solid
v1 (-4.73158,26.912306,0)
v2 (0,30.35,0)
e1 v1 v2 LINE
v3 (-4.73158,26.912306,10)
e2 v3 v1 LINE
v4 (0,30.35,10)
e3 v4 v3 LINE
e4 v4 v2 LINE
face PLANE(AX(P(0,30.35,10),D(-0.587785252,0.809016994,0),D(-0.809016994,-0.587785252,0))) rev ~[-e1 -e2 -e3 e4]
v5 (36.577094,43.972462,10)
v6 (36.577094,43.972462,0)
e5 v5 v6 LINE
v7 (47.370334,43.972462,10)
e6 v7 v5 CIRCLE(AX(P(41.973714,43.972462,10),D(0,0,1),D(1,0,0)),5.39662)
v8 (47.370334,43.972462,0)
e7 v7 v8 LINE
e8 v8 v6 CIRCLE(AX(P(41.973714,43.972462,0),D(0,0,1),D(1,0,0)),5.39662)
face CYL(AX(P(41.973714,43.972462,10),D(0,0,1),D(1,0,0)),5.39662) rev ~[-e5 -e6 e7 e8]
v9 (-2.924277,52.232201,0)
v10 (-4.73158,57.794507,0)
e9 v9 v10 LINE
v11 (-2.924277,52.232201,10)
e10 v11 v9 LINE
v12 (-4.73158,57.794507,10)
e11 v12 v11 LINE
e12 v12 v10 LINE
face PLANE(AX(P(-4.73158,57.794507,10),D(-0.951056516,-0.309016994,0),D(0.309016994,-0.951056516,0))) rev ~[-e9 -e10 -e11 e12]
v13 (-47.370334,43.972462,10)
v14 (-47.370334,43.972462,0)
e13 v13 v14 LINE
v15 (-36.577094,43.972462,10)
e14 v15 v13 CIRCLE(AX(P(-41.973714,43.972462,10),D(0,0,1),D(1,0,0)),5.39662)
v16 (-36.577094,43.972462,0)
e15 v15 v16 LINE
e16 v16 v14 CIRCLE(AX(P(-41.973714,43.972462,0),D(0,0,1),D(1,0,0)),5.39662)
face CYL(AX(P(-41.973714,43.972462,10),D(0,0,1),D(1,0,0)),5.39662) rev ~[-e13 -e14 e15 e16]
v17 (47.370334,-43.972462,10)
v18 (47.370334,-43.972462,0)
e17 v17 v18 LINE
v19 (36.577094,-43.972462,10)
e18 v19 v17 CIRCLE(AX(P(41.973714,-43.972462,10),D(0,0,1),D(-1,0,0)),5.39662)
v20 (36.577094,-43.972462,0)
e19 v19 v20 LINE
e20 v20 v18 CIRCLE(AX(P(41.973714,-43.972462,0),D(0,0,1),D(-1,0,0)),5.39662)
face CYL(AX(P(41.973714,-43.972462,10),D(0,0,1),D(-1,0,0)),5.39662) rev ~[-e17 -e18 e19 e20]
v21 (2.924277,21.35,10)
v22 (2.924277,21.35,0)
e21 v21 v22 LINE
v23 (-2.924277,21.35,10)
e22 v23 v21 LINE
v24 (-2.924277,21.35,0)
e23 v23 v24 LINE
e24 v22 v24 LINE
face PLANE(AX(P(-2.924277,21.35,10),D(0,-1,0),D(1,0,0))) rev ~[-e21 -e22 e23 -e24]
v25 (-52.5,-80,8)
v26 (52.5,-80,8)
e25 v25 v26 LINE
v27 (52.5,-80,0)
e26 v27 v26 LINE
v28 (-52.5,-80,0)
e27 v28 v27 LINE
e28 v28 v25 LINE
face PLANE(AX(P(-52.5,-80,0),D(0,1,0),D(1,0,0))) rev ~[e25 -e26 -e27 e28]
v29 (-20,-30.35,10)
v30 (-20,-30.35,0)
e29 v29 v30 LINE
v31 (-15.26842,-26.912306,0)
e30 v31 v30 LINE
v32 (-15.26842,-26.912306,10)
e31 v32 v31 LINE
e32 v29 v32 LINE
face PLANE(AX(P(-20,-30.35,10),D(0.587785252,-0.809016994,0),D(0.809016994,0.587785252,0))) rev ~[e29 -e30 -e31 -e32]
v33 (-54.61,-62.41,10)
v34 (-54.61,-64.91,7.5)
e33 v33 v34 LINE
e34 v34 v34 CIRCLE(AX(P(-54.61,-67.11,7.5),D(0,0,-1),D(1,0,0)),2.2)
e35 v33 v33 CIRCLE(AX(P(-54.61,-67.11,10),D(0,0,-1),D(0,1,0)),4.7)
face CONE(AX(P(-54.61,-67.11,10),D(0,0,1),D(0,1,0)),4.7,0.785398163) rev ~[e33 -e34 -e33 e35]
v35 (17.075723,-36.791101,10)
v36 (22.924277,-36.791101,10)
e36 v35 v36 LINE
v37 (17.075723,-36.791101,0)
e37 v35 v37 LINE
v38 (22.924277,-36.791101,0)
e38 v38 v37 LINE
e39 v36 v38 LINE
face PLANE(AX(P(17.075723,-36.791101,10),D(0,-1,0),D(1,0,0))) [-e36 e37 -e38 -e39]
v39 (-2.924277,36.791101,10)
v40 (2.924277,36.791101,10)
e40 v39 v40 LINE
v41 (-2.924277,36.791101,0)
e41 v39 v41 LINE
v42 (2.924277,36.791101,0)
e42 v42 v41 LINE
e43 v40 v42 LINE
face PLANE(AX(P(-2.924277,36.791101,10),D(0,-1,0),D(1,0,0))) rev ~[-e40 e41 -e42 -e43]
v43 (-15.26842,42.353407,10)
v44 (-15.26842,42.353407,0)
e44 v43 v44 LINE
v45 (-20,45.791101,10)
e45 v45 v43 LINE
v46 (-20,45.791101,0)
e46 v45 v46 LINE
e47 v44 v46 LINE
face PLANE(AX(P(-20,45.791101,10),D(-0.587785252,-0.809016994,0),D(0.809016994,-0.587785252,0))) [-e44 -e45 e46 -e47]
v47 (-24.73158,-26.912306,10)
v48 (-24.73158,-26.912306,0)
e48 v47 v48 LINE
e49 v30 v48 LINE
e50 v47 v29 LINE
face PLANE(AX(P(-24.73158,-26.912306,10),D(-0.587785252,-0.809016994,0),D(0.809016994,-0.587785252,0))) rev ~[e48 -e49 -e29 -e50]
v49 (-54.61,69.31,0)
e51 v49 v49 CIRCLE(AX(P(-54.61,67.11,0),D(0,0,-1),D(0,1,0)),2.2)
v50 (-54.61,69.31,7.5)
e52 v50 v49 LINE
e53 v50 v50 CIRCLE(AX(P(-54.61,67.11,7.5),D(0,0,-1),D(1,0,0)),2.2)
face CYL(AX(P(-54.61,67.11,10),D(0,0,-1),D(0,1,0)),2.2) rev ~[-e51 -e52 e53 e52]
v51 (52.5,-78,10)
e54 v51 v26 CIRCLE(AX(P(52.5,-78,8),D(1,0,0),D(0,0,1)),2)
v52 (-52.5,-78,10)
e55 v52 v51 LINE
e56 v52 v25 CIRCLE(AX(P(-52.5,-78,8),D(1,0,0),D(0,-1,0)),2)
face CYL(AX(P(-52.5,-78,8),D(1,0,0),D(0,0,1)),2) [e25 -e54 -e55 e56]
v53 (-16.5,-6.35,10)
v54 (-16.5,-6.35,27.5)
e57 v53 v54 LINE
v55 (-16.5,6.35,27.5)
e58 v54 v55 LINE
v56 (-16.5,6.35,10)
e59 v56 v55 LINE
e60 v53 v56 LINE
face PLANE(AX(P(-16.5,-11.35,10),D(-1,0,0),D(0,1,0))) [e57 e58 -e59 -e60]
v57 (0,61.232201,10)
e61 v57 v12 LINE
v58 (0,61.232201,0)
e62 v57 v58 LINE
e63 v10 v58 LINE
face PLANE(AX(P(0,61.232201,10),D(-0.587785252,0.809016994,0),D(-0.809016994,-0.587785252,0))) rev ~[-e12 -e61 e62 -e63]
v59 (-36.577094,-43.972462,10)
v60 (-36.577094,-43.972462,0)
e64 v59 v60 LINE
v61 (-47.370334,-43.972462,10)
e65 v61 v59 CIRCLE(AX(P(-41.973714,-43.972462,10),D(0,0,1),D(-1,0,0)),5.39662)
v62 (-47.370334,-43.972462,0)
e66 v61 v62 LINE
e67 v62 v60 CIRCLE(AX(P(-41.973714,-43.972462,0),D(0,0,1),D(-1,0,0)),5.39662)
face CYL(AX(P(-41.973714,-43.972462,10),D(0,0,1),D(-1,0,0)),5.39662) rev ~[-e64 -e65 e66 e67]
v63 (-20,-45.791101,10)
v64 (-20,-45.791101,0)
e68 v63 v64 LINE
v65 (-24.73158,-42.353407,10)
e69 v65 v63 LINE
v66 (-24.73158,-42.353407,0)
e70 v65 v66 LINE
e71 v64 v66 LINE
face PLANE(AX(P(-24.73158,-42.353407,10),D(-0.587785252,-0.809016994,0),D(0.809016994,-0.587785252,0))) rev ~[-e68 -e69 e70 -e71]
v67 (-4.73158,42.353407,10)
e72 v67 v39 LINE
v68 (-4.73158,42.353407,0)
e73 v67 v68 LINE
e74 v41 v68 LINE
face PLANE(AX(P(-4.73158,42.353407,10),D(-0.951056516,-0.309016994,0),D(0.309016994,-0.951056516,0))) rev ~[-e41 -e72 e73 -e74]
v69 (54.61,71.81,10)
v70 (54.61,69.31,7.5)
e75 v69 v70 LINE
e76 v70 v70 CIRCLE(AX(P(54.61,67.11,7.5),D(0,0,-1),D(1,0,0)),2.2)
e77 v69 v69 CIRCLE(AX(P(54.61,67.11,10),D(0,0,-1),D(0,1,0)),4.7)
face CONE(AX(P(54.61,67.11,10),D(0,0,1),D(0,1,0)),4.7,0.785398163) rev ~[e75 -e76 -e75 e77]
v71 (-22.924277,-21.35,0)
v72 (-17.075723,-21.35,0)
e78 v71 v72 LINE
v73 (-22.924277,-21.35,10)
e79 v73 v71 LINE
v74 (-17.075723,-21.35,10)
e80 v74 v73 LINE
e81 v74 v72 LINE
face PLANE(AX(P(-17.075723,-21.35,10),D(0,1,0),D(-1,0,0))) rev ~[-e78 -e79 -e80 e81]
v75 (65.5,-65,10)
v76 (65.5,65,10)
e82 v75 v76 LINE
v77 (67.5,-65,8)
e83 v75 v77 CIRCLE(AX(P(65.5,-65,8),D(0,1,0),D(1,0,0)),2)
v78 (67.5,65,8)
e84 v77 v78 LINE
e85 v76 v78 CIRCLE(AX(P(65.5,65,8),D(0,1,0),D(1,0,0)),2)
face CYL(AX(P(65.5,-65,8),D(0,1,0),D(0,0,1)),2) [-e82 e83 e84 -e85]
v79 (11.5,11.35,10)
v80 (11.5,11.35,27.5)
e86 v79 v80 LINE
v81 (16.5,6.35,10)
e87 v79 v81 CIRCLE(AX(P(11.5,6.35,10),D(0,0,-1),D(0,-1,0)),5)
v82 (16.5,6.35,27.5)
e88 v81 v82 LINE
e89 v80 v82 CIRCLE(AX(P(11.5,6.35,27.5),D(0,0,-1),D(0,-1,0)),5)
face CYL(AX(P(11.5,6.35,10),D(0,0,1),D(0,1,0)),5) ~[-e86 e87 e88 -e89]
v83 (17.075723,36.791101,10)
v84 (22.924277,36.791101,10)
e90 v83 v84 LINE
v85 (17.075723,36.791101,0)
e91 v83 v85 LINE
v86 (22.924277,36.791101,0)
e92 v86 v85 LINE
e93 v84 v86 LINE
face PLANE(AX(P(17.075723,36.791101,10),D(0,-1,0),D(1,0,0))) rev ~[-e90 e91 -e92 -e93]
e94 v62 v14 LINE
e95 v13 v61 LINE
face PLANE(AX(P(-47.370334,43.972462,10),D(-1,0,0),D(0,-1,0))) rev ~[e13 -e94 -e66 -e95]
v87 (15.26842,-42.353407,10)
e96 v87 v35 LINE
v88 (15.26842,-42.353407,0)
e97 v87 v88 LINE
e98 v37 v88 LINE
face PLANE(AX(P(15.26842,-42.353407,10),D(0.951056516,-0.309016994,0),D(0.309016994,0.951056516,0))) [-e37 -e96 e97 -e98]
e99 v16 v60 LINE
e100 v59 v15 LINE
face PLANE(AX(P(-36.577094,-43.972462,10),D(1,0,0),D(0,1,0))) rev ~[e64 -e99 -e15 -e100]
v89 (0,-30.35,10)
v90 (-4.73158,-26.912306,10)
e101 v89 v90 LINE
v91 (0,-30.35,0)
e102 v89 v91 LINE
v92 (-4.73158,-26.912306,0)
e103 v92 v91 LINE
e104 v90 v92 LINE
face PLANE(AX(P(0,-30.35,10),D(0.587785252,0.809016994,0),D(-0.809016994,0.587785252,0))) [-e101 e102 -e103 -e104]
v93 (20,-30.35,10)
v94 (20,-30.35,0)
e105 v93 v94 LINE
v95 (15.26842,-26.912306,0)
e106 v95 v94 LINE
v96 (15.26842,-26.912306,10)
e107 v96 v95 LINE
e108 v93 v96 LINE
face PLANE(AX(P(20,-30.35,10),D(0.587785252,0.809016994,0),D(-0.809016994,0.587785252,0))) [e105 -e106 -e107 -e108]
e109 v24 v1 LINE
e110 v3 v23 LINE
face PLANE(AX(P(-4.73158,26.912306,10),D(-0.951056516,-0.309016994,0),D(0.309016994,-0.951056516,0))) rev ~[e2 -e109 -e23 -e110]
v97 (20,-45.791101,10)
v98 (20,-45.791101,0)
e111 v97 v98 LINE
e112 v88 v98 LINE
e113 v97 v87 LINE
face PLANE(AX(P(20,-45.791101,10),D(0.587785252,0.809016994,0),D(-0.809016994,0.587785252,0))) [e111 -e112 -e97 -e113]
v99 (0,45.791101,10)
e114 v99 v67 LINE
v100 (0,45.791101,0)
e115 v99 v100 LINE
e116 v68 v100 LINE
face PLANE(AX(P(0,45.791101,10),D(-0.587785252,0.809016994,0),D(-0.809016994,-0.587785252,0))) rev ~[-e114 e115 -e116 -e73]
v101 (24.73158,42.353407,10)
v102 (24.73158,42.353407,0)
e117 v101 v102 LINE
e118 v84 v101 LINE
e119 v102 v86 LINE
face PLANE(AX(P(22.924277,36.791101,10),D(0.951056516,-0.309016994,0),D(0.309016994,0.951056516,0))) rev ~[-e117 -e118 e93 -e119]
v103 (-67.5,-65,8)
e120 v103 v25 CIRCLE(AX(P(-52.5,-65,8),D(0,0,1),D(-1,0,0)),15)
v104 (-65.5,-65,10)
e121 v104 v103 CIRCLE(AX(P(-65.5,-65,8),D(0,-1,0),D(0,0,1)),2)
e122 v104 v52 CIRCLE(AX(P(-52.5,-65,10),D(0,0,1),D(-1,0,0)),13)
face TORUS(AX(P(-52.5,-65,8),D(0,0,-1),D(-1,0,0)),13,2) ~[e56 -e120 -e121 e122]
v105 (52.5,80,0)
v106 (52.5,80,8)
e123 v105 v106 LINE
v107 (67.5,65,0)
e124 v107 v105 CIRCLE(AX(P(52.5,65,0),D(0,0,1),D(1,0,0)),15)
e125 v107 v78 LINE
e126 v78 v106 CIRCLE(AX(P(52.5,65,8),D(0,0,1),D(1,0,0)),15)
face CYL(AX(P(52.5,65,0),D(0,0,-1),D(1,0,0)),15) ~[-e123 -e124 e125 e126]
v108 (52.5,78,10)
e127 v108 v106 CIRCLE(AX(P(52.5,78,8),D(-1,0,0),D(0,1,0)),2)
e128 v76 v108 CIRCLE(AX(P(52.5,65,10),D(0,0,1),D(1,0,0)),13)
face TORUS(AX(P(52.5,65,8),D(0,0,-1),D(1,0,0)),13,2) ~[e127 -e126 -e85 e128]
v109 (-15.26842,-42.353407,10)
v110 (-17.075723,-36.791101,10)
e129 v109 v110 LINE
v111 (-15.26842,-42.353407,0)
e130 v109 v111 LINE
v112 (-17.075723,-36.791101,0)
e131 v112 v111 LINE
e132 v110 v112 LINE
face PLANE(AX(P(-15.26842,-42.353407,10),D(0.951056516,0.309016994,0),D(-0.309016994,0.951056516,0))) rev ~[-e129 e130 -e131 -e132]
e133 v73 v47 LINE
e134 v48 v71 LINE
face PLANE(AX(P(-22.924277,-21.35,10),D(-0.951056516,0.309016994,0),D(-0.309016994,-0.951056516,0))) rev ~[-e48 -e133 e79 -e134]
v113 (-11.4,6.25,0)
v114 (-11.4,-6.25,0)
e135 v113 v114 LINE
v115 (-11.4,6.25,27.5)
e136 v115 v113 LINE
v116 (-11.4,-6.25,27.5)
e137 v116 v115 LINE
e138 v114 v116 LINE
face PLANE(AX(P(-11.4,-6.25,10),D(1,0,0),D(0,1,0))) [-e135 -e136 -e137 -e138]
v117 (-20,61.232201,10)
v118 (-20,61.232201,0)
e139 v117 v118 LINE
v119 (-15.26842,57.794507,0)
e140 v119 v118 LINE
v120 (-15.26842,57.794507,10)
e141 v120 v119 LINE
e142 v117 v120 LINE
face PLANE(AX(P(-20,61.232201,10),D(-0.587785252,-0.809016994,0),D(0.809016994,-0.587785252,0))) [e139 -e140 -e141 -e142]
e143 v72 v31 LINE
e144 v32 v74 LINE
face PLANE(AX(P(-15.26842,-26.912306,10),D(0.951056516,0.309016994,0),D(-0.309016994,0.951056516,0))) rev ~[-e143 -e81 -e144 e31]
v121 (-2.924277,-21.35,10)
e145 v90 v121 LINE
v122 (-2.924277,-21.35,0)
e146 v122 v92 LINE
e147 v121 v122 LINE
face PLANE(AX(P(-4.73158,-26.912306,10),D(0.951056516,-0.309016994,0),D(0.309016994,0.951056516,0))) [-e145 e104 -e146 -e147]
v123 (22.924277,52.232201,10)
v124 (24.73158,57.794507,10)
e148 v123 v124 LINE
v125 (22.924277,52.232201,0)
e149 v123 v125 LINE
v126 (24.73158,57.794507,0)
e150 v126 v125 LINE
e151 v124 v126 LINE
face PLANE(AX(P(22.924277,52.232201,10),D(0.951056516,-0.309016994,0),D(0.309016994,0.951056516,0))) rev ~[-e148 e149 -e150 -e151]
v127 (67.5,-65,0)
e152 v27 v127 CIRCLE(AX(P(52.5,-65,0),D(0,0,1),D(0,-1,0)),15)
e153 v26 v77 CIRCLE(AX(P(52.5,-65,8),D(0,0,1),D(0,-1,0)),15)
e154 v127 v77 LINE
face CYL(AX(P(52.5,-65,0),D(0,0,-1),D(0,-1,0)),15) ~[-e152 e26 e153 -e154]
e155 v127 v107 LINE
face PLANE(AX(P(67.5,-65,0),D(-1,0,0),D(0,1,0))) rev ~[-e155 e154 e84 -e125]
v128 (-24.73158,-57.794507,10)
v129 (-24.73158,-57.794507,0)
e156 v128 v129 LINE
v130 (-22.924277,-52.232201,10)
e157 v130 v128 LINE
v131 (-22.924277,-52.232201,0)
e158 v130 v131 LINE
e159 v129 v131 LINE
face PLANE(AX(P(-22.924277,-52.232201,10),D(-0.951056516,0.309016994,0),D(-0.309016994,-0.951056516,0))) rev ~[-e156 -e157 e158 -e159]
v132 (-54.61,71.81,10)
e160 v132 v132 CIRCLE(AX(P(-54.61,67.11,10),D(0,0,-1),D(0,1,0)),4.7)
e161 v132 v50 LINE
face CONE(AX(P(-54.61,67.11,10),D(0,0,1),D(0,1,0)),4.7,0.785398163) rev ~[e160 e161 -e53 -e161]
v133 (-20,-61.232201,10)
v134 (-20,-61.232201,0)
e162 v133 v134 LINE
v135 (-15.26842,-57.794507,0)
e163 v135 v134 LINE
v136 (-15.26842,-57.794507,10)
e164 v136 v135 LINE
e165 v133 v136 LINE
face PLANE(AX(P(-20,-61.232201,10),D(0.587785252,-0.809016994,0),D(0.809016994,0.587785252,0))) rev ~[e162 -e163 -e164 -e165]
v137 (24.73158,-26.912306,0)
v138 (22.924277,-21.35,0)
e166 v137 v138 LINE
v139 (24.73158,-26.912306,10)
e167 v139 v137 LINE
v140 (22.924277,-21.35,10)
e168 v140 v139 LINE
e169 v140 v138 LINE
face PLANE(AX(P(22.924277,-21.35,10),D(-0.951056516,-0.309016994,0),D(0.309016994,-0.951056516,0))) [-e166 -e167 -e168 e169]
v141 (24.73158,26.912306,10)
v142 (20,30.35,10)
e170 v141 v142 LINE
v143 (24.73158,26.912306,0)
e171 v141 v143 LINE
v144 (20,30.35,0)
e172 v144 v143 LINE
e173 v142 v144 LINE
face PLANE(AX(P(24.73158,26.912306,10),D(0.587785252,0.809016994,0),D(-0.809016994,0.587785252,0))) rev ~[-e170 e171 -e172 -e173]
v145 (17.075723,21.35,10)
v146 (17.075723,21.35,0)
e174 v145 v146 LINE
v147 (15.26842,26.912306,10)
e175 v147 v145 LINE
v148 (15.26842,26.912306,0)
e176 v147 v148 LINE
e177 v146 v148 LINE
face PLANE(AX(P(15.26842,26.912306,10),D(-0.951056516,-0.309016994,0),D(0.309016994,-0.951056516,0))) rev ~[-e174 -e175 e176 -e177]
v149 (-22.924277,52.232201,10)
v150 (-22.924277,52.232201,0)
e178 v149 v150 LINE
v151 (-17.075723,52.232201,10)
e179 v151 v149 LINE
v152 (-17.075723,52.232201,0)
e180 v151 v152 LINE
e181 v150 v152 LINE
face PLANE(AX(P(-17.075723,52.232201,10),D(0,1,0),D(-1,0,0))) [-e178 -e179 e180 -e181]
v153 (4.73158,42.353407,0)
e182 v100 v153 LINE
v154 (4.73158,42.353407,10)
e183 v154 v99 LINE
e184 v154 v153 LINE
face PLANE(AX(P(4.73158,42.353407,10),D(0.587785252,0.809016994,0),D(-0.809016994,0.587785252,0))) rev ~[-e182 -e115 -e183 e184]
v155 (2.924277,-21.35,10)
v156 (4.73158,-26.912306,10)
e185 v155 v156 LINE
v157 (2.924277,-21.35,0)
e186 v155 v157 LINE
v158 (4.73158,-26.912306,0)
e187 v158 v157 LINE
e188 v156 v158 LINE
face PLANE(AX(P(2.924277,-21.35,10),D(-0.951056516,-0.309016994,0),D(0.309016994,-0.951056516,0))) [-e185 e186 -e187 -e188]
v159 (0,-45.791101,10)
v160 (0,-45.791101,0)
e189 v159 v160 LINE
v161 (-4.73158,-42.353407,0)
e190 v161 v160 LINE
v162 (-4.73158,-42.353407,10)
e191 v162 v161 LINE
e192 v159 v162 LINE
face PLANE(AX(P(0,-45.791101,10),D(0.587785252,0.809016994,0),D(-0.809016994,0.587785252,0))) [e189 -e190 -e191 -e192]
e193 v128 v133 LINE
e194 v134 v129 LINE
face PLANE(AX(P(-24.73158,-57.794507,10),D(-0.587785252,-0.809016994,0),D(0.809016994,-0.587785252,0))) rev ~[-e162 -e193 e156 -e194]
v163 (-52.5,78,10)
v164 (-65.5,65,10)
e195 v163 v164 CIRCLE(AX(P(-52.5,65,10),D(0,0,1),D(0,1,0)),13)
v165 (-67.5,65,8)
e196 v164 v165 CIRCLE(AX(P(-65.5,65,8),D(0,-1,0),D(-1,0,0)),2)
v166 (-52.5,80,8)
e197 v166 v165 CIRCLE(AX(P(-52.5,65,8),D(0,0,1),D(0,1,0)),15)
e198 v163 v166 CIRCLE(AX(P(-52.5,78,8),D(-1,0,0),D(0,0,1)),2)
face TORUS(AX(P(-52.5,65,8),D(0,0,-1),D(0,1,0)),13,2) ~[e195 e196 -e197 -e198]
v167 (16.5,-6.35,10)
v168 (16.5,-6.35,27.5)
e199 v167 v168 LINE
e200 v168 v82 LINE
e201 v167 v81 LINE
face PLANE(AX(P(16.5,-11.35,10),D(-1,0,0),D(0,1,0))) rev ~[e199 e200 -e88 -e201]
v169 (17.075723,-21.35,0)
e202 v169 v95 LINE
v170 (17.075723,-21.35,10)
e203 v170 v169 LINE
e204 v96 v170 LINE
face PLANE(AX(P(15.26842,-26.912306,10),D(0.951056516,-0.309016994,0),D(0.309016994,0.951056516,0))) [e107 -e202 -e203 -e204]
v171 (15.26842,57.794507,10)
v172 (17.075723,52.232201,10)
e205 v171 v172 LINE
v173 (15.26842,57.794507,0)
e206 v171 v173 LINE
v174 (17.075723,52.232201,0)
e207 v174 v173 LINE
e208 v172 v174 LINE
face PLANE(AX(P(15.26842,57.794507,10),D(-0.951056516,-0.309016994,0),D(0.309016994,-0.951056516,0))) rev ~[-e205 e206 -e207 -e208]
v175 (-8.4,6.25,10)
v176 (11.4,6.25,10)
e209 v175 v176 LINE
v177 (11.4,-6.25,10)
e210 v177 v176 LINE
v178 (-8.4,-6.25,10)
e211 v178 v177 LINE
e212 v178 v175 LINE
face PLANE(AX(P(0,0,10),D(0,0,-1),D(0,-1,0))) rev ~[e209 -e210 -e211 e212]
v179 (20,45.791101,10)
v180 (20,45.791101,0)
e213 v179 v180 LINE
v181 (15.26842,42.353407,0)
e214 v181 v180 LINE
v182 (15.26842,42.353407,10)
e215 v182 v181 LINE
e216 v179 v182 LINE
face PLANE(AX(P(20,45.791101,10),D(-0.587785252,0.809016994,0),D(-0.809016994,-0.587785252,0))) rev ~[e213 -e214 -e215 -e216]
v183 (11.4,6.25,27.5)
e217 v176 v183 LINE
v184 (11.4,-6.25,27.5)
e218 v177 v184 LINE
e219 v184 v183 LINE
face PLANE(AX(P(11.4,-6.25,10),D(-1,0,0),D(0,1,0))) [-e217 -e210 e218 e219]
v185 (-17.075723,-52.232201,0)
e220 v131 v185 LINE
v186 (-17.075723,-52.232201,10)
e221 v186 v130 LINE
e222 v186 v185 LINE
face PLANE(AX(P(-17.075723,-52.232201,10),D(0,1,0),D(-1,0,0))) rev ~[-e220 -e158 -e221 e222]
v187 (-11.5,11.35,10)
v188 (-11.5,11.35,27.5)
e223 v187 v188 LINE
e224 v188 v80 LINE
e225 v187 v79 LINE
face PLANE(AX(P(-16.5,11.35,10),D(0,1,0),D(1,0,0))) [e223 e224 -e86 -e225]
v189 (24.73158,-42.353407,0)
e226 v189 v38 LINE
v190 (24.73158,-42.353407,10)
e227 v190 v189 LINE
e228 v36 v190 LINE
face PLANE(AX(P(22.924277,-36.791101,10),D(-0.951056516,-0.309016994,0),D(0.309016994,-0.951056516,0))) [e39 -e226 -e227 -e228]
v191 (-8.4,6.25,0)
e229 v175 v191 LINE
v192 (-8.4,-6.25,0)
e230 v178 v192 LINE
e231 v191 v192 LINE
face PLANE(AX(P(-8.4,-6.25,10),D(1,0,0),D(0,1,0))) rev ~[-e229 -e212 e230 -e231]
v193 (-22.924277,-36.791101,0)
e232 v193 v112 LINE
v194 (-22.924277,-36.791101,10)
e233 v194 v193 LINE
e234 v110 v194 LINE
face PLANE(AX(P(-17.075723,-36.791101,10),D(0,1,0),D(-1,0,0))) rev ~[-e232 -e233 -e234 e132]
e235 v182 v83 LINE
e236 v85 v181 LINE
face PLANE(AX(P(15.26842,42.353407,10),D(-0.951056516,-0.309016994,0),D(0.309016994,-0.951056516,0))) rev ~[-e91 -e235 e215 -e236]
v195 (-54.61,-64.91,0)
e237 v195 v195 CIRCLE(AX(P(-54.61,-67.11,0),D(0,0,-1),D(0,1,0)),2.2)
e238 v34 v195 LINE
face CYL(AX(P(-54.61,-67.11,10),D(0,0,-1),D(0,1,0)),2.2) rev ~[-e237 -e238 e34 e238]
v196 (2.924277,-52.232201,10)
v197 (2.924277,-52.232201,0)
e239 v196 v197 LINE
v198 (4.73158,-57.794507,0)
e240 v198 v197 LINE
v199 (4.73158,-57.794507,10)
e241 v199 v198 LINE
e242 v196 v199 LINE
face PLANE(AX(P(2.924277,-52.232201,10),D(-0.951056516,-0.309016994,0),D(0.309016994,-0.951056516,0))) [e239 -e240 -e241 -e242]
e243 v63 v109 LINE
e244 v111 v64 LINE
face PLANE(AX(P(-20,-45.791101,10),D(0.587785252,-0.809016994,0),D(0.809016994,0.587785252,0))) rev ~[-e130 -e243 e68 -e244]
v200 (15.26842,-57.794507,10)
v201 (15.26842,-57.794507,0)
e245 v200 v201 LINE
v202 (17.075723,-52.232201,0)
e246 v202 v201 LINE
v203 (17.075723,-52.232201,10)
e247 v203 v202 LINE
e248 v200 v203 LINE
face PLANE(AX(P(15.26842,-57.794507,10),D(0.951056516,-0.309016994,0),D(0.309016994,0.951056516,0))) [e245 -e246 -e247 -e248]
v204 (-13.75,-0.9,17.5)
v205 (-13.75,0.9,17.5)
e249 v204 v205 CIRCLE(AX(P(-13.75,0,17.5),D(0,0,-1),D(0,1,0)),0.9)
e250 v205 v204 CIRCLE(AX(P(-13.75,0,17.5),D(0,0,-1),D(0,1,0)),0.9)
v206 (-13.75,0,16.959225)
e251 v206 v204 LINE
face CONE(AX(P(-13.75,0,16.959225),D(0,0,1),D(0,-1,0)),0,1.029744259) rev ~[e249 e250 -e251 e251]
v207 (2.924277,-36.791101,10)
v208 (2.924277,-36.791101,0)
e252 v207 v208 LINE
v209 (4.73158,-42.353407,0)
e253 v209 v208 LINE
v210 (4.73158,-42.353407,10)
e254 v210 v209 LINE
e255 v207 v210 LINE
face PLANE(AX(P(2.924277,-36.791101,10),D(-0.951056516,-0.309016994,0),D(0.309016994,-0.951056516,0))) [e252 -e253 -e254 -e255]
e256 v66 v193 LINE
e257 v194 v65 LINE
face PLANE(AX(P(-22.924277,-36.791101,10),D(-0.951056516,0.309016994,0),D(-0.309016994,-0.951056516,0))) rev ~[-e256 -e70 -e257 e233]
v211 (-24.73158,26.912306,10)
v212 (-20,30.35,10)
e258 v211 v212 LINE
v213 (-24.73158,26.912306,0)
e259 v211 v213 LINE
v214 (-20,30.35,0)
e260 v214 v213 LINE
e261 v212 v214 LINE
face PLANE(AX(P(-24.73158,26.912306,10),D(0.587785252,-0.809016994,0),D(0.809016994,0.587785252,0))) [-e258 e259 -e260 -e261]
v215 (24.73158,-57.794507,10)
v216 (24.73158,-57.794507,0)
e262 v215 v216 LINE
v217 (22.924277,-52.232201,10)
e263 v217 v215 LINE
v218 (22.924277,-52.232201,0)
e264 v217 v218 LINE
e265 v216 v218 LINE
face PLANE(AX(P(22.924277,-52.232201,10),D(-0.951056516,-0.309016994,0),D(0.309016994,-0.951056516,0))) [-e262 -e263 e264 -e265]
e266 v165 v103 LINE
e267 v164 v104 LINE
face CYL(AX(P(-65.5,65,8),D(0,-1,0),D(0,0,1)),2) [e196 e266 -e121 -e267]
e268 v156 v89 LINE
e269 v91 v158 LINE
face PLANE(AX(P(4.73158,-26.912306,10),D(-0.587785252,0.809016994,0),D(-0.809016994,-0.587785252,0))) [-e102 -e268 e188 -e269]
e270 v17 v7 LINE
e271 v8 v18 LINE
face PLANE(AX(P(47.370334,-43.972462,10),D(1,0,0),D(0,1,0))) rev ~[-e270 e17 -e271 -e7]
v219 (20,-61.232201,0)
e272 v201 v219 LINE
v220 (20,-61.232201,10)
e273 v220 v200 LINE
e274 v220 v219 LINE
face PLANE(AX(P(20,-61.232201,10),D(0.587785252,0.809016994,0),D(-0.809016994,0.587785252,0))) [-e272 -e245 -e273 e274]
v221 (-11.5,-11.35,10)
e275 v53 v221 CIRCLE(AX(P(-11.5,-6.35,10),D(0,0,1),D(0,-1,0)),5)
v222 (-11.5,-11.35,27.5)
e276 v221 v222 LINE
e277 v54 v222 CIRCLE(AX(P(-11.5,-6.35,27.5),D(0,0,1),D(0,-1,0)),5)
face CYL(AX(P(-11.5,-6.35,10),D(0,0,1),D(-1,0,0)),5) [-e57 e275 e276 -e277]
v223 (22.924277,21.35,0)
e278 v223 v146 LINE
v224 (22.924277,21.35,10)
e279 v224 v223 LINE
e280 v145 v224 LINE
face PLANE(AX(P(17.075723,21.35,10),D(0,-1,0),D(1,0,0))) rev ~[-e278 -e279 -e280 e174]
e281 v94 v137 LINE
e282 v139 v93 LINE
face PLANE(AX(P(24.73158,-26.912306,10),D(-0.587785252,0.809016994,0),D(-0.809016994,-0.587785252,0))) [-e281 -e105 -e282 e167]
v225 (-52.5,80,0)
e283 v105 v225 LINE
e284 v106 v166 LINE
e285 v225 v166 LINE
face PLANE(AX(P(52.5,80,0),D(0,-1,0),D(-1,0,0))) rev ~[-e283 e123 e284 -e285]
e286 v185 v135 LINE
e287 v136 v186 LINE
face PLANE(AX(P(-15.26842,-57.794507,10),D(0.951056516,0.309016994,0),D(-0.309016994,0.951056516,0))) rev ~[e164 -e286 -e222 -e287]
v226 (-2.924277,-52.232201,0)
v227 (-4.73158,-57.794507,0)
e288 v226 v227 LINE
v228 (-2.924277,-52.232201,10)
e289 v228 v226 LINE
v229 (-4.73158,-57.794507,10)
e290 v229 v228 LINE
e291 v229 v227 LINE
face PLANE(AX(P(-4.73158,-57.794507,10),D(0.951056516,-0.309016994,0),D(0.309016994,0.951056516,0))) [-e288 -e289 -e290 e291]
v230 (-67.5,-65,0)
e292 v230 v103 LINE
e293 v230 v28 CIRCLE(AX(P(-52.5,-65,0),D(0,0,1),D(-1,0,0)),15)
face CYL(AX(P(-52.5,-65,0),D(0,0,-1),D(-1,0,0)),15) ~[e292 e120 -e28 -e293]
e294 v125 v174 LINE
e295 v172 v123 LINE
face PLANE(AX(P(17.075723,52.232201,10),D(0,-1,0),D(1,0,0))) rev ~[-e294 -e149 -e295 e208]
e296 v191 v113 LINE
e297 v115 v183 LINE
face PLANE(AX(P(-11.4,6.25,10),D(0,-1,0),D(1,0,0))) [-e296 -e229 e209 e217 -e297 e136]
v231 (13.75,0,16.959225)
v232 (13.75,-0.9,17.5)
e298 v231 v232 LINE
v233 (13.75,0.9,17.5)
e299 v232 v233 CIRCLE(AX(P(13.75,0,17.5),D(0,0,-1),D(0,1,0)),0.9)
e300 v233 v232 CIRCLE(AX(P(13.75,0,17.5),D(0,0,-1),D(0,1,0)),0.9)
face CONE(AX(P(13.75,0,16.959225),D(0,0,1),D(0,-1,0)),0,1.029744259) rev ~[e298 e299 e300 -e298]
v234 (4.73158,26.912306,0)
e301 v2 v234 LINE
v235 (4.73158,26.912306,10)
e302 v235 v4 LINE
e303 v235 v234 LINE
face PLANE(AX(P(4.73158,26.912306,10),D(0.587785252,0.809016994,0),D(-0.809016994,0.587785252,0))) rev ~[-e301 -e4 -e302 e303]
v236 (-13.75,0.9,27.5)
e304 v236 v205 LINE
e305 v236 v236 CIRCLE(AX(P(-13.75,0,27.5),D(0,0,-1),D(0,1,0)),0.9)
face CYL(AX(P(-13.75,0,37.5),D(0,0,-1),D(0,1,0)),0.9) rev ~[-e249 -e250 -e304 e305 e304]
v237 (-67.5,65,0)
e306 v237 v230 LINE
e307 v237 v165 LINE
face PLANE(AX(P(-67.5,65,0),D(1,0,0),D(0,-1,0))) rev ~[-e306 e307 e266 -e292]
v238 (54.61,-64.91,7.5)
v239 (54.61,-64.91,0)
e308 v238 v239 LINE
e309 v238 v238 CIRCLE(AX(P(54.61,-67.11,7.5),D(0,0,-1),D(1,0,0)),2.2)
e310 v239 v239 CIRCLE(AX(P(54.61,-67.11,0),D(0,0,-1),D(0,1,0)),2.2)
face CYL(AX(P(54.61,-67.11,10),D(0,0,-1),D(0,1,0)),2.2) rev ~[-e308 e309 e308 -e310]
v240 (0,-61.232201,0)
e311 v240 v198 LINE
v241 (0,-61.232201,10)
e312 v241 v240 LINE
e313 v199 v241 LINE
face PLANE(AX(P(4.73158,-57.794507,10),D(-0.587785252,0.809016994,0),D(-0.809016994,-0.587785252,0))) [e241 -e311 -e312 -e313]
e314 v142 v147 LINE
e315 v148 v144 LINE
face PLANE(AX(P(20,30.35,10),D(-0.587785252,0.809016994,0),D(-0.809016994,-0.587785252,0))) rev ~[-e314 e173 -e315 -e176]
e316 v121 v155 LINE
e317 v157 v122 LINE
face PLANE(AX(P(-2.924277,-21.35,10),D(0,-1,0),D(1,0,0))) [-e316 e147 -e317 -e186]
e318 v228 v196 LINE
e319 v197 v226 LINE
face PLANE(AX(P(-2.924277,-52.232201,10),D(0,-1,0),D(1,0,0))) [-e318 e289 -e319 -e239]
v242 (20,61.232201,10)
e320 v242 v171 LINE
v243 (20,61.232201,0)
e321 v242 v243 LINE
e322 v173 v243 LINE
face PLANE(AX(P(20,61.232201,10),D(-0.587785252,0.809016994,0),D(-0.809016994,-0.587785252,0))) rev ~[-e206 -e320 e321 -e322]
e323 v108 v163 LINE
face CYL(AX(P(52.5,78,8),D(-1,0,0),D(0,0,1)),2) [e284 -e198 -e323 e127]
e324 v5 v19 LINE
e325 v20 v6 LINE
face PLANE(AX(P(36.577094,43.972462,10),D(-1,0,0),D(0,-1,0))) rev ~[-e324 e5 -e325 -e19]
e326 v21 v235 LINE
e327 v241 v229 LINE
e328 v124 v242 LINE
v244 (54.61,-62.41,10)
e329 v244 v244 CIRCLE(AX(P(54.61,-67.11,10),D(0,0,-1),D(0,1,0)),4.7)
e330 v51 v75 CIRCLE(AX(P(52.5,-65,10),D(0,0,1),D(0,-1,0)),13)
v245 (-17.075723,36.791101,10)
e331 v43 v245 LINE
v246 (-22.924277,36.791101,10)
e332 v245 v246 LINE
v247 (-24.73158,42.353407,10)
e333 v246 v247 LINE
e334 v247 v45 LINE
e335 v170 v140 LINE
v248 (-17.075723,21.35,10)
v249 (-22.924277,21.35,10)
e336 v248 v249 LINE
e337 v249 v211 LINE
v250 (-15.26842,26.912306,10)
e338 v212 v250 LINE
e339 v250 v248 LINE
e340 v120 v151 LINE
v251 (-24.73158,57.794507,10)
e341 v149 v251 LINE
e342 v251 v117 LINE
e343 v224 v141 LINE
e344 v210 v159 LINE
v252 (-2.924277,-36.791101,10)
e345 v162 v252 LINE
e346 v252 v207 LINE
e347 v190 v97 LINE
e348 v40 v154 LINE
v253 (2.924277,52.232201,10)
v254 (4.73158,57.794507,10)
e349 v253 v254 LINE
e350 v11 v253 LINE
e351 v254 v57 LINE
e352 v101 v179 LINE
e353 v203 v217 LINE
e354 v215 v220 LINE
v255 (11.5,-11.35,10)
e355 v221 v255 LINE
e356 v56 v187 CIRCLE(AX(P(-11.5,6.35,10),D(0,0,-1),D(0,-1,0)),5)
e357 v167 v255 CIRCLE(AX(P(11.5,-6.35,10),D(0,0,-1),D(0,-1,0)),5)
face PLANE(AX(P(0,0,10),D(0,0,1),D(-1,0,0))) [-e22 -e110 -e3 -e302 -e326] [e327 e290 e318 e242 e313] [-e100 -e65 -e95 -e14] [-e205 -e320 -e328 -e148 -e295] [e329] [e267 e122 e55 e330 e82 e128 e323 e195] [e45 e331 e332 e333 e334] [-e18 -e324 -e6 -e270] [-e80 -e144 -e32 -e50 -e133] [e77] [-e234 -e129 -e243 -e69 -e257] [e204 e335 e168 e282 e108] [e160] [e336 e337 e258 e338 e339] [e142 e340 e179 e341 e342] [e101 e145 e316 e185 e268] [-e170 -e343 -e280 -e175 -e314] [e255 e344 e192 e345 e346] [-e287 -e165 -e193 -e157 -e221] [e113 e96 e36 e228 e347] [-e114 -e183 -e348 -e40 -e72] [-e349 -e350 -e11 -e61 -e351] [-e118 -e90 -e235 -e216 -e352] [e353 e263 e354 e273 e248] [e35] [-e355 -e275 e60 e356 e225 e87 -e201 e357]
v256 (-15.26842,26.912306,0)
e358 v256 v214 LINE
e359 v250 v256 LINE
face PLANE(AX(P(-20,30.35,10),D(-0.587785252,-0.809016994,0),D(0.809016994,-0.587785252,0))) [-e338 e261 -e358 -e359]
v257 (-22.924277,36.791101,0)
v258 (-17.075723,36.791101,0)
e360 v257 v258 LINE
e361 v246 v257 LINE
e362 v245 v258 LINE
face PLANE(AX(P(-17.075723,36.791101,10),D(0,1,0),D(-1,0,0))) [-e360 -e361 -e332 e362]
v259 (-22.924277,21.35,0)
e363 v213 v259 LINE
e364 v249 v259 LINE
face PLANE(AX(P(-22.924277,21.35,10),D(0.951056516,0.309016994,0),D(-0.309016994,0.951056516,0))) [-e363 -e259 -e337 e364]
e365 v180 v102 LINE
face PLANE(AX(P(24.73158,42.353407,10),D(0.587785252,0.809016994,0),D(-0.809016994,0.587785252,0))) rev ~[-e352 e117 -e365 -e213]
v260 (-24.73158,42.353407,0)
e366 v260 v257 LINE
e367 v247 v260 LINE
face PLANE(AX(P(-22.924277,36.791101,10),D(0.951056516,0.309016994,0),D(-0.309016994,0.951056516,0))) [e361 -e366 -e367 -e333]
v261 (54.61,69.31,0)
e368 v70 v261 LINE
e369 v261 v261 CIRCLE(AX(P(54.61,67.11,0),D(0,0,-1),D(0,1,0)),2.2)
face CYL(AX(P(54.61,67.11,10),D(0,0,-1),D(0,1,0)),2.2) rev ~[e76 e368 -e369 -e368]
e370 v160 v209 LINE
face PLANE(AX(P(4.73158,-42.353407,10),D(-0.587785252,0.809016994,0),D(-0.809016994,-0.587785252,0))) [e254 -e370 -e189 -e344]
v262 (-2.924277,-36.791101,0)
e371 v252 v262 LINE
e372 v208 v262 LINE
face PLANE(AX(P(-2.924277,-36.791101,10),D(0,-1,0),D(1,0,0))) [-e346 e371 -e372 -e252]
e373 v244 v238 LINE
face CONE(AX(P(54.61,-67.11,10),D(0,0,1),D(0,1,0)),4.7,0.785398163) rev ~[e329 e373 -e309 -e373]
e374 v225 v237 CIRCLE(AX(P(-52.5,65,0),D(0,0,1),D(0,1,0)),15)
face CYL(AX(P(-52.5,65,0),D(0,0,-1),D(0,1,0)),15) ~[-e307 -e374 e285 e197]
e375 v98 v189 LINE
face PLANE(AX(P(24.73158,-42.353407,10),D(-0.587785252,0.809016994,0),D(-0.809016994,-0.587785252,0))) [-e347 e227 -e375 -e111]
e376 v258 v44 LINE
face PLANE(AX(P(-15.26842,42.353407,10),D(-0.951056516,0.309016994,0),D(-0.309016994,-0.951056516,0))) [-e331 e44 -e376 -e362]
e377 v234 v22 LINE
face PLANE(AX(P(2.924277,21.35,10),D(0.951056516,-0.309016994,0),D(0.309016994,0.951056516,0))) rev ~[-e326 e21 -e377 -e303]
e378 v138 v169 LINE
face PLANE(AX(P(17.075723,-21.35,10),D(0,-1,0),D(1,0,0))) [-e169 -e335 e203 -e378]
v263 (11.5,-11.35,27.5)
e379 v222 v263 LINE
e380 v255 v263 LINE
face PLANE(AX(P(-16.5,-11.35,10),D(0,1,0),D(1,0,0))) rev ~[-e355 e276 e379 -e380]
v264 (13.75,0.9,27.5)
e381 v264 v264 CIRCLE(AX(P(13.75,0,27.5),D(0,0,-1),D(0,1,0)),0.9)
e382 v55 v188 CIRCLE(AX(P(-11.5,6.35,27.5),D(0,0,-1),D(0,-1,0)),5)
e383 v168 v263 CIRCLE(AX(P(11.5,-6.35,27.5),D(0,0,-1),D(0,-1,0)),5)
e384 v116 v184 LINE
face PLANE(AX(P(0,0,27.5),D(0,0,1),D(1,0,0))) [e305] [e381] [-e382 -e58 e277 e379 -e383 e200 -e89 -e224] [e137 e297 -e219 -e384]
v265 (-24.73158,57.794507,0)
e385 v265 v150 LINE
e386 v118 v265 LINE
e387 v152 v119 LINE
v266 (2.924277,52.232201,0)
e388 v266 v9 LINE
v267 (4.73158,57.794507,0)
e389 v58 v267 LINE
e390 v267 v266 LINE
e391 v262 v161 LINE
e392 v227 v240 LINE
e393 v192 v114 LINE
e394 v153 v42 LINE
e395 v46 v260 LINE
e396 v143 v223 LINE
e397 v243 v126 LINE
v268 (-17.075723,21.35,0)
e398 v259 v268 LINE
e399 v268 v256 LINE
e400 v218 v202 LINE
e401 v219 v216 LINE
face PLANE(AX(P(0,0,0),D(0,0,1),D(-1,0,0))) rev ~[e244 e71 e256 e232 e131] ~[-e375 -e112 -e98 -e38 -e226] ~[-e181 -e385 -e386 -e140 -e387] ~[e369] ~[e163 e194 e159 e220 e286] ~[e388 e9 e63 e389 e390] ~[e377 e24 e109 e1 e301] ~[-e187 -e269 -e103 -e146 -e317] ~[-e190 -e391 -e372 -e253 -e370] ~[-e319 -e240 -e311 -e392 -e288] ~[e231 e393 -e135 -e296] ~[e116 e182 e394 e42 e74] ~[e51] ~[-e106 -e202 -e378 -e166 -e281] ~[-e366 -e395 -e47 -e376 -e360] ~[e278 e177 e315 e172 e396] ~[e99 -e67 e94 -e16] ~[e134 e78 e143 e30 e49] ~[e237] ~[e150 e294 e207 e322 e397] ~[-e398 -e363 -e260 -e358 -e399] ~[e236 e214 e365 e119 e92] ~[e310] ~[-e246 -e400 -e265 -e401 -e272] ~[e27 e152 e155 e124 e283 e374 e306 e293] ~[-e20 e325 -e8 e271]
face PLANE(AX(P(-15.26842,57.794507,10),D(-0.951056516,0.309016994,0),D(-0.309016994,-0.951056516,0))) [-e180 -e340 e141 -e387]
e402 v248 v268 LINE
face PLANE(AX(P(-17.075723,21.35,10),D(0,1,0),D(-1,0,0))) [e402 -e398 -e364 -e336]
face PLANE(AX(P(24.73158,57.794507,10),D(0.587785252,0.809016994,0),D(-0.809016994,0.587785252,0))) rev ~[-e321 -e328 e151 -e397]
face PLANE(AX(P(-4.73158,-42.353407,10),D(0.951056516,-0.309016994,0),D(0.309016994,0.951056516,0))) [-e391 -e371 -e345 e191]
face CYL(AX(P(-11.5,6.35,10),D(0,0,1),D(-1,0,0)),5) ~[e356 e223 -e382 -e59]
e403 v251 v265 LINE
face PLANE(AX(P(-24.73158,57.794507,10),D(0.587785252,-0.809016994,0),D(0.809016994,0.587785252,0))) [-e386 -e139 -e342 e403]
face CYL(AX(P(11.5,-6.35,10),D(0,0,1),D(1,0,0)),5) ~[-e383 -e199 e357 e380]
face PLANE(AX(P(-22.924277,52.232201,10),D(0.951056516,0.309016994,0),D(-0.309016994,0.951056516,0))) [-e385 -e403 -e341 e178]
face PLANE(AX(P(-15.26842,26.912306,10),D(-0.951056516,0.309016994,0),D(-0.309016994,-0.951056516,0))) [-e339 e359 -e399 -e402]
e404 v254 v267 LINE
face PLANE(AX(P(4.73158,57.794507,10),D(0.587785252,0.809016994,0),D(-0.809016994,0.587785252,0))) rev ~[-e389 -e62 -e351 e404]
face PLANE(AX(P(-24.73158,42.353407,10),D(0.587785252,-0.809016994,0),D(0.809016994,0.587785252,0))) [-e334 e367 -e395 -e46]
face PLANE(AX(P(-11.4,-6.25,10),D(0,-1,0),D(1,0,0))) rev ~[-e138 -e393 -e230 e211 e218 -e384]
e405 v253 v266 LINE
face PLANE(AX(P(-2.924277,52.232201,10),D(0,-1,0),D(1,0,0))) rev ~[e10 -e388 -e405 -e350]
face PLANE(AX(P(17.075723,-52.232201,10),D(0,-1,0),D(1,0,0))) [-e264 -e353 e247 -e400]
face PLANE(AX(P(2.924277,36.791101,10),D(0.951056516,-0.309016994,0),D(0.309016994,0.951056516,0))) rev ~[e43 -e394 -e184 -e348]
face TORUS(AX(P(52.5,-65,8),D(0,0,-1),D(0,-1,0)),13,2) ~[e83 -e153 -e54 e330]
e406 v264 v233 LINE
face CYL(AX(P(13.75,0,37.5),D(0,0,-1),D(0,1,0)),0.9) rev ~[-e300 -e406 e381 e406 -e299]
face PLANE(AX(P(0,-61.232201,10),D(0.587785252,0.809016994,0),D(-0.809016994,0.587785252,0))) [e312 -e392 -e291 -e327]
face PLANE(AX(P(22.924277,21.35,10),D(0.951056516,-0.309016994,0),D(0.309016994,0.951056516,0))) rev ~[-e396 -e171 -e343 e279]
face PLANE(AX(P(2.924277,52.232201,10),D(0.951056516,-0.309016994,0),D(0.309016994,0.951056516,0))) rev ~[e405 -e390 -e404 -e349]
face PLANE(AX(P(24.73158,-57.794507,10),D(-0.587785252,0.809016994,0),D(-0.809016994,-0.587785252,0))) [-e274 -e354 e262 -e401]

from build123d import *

# Parameters (mm, degrees)
BOSS_EXTRUDE1_DEPTH                                 = 10
CSK_FOR_M4_COUNTERSUNK_FLAT_HEAD_SCREW1_D           = 4.4
CSK_FOR_M4_COUNTERSUNK_FLAT_HEAD_SCREW1_DEPTH       = 10
CSK_FOR_M4_COUNTERSUNK_FLAT_HEAD_SCREW1_CSINK_D     = 9.4
CSK_FOR_M4_COUNTERSUNK_FLAT_HEAD_SCREW1_CSINK_ANGLE = 90
CSK_FOR_M4_COUNTERSUNK_FLAT_HEAD_SCREW1_TIP         = 1.321893362
SKETCH4_W                                           = 33
SKETCH4_H                                           = 22.7
SKETCH4_W_2                                         = 22.8
SKETCH4_H_2                                         = 12.5
EXTRUDE_THIN1_DEPTH                                 = 17.5
FILLET1_R                                           = 5
F_1_5MM_DOWEL_HOLE1_D                               = 1.8
F_1_5MM_DOWEL_HOLE1_DEPTH                           = 10
F_1_5MM_DOWEL_HOLE1_TIP                             = 0.540774557
SKETCH8_W                                           = 3
SKETCH8_H                                           = 12.5
CUT_EXTRUDE1_DEPTH                                  = 100.184172124
BOSS_EXTRUDE3_DEPTH                                 = 10
FILLET2_R                                           = 2


with BuildPart() as part:
    # Sketch1 → Boss-Extrude1 (new body)
    with BuildSketch(Plane(origin=(0, 0, 0), x_dir=(0, 1, 0), z_dir=(0, 0, 1))):
        with BuildLine():
            Line((-60, 62.5), (60, 62.5))
            ThreePointArc((60, 62.5), (70.606601718, 58.106601718), (75, 47.5))
            Line((75, 47.5), (75, -47.5))
            ThreePointArc((75, -47.5), (70.606601718, -58.106601718), (60, -62.5))
            Line((60, -62.5), (-60, -62.5))
            ThreePointArc((-60, -62.5), (-70.606601718, -58.106601718), (-75, -47.5))
            Line((-75, -47.5), (-75, 47.5))
            ThreePointArc((-75, 47.5), (-70.606601718, 58.106601718), (-60, 62.5))
        make_face()
    extrude(amount=BOSS_EXTRUDE1_DEPTH)

    # CSK for M4 Countersunk Flat Head Screw1
    with Locations(Plane(origin=(0, 0, 10), x_dir=(0, -1, 0), z_dir=(0, 0, 1))):
        with Locations((-67.11, 54.61), (67.11, 54.61), (67.11, -54.61), (-67.11, -54.61)):
            CounterSinkHole(CSK_FOR_M4_COUNTERSUNK_FLAT_HEAD_SCREW1_D / 2, CSK_FOR_M4_COUNTERSUNK_FLAT_HEAD_SCREW1_CSINK_D / 2, depth=CSK_FOR_M4_COUNTERSUNK_FLAT_HEAD_SCREW1_DEPTH, counter_sink_angle=CSK_FOR_M4_COUNTERSUNK_FLAT_HEAD_SCREW1_CSINK_ANGLE)
            with Locations((0, 0, -(CSK_FOR_M4_COUNTERSUNK_FLAT_HEAD_SCREW1_DEPTH + CSK_FOR_M4_COUNTERSUNK_FLAT_HEAD_SCREW1_TIP / 2))):  # 118° drill point
                Cone(0, CSK_FOR_M4_COUNTERSUNK_FLAT_HEAD_SCREW1_D / 2, CSK_FOR_M4_COUNTERSUNK_FLAT_HEAD_SCREW1_TIP, mode=Mode.SUBTRACT)

    # Sketch4 → Extrude-Thin1 (add)
    with BuildSketch(Plane.XY.offset(10)):
        Rectangle(SKETCH4_W, SKETCH4_H)
        Rectangle(SKETCH4_W_2, SKETCH4_H_2, mode=Mode.SUBTRACT)
    extrude(amount=EXTRUDE_THIN1_DEPTH)

    # Fillet1
    fillet1_edges = [part.edges().sort_by_distance(p)[0] for p in [
        (16.5, -11.35, 18.75),
        (16.5, 11.35, 18.75),
        (-16.5, 11.35, 18.75),
        (-16.5, -11.35, 18.75),
    ]]
    fillet(fillet1_edges, radius=FILLET1_R)

    # Ø1.5mm Dowel Hole1
    with Locations(Plane(origin=(0, 0, 27.5), x_dir=(0, -1, 0), z_dir=(0, 0, 1))):
        with Locations((0, -13.75), (0, 13.75)):
            Hole(F_1_5MM_DOWEL_HOLE1_D / 2, depth=F_1_5MM_DOWEL_HOLE1_DEPTH)
            with Locations((0, 0, -(F_1_5MM_DOWEL_HOLE1_DEPTH + F_1_5MM_DOWEL_HOLE1_TIP / 2))):  # 118° drill point
                Cone(0, F_1_5MM_DOWEL_HOLE1_D / 2, F_1_5MM_DOWEL_HOLE1_TIP, mode=Mode.SUBTRACT)

    # Sketch8 → Cut-Extrude1 (cut, through all)
    with BuildSketch(Plane.XY.offset(10)):
        with BuildLine():
            Line((-47.370334328, 43.972462246), (-47.370334328, -43.972462246))
            ThreePointArc((-47.370334328, -43.972462246), (-41.973713961, -49.369082612), (-36.577093595, -43.972462245))
            Line((-36.577093595, -43.972462245), (-36.577093595, 43.972462246))
            ThreePointArc((-36.577093595, 43.972462246), (-41.973713962, 49.369082612), (-47.370334328, 43.972462246))
        make_face()
        with BuildLine():
            Line((36.577093595, 43.972462246), (36.577093595, -43.972462245))
            ThreePointArc((36.577093595, -43.972462245), (41.973713961, -49.369082612), (47.370334328, -43.972462246))
            Line((47.370334328, -43.972462246), (47.370334328, 43.972462246))
            ThreePointArc((47.370334328, 43.972462246), (41.973713962, 49.369082612), (36.577093595, 43.972462246))
        make_face()
        Polygon((20, 61.232201212), (15.268419991, 57.794507111), (17.075722734, 52.232201212), (22.924277266, 52.232201212), (24.731580009, 57.794507111), align=None)
        Polygon((0, 61.232201212), (-4.731580009, 57.794507111), (-2.924277266, 52.232201212), (2.924277266, 52.232201212), (4.731580009, 57.794507111), align=None)
        with Locations((-9.9, 0)):
            Rectangle(SKETCH8_W, SKETCH8_H)
        Polygon((20, 45.791100606), (15.268419991, 42.353406505), (17.075722734, 36.791100606), (22.924277266, 36.791100606), (24.731580009, 42.353406505), align=None)
        Polygon((20, 30.35), (15.268419991, 26.912305899), (17.075722734, 21.35), (22.924277266, 21.35), (24.731580009, 26.912305899), align=None)
        Polygon((0, 45.791100606), (-4.731580009, 42.353406505), (-2.924277266, 36.791100606), (2.924277266, 36.791100606), (4.731580009, 42.353406505), align=None)
        Polygon((0, 30.35), (-4.731580009, 26.912305899), (-2.924277266, 21.35), (2.924277266, 21.35), (4.731580009, 26.912305899), align=None)
        Polygon((-24.731580009, 26.912305899), (-20, 30.35), (-15.268419991, 26.912305899), (-17.075722734, 21.35), (-22.924277266, 21.35), align=None)
        Polygon((-24.731580009, 42.353406505), (-20, 45.791100606), (-15.268419991, 42.353406505), (-17.075722734, 36.791100606), (-22.924277266, 36.791100606), align=None)
        Polygon((-24.731580009, 57.794507111), (-20, 61.232201212), (-15.268419991, 57.794507111), (-17.075722734, 52.232201212), (-22.924277266, 52.232201212), align=None)
        Polygon((24.731580009, -26.912305899), (20, -30.35), (15.268419991, -26.912305899), (17.075722734, -21.35), (22.924277266, -21.35), align=None)
        Polygon((4.731580009, -26.912305899), (0, -30.35), (-4.731580009, -26.912305899), (-2.924277266, -21.35), (2.924277266, -21.35), align=None)
        Polygon((-22.924277266, -21.35), (-24.731580009, -26.912305899), (-20, -30.35), (-15.268419991, -26.912305899), (-17.075722734, -21.35), align=None)
        Polygon((-22.924277266, -36.791100606), (-24.731580009, -42.353406505), (-20, -45.791100606), (-15.268419991, -42.353406505), (-17.075722734, -36.791100606), align=None)
        Polygon((4.731580009, -42.353406505), (0, -45.791100606), (-4.731580009, -42.353406505), (-2.924277266, -36.791100606), (2.924277266, -36.791100606), align=None)
        Polygon((24.731580009, -42.353406505), (20, -45.791100606), (15.268419991, -42.353406505), (17.075722734, -36.791100606), (22.924277266, -36.791100606), align=None)
        Polygon((24.731580009, -57.794507111), (20, -61.232201212), (15.268419991, -57.794507111), (17.075722734, -52.232201212), (22.924277266, -52.232201212), align=None)
        Polygon((4.731580009, -57.794507111), (0, -61.232201212), (-4.731580009, -57.794507111), (-2.924277266, -52.232201212), (2.924277266, -52.232201212), align=None)
        Polygon((-22.924277266, -52.232201212), (-24.731580009, -57.794507111), (-20, -61.232201212), (-15.268419991, -57.794507111), (-17.075722734, -52.232201212), align=None)
    extrude(amount=-CUT_EXTRUDE1_DEPTH, mode=Mode.SUBTRACT)

    # Sketch9 → Boss-Extrude3 (add)
    with BuildSketch(Plane(origin=(0, 0, 0), x_dir=(1, 0, 0), z_dir=(0, 0, -1))):
        with BuildLine():
            Line((-52.5, 80), (52.5, 80))
            ThreePointArc((52.5, 80), (63.106601718, 75.606601718), (67.5, 65))
            Line((67.5, 65), (67.5, -65))
            ThreePointArc((67.5, -65), (63.106601718, -75.606601718), (52.5, -80))
            Line((52.5, -80), (-52.5, -80))
            ThreePointArc((-52.5, -80), (-63.106601718, -75.606601718), (-67.5, -65))
            Line((-67.5, -65), (-67.5, 65))
            ThreePointArc((-67.5, 65), (-63.106601718, 75.606601718), (-52.5, 80))
        make_face()
        with BuildLine():
            Line((-47.5, 75), (47.5, 75))
            ThreePointArc((47.5, 75), (58.106601718, 70.606601718), (62.5, 60))
            Line((62.5, 60), (62.5, -60))
            ThreePointArc((62.5, -60), (58.106601718, -70.606601718), (47.5, -75))
            Line((47.5, -75), (-47.5, -75))
            ThreePointArc((-47.5, -75), (-58.106601718, -70.606601718), (-62.5, -60))
            Line((-62.5, -60), (-62.5, 60))
            ThreePointArc((-62.5, 60), (-58.106601718, 70.606601718), (-47.5, 75))
        make_face(mode=Mode.SUBTRACT)
    extrude(amount=-BOSS_EXTRUDE3_DEPTH)

    # Fillet2
    fillet2_edges = [part.edges().sort_by_distance(p)[0] for p in [
        (63.106601718, 75.606601718, 10),
        (0, 80, 10),
        (-63.106601718, 75.606601718, 10),
        (-67.5, 0, 10),
        (-63.106601718, -75.606601718, 10),
        (0, -80, 10),
        (63.106601718, -75.606601718, 10),
        (67.5, 0, 10),
    ]]
    fillet(fillet2_edges, radius=FILLET2_R)


solid = part.part
